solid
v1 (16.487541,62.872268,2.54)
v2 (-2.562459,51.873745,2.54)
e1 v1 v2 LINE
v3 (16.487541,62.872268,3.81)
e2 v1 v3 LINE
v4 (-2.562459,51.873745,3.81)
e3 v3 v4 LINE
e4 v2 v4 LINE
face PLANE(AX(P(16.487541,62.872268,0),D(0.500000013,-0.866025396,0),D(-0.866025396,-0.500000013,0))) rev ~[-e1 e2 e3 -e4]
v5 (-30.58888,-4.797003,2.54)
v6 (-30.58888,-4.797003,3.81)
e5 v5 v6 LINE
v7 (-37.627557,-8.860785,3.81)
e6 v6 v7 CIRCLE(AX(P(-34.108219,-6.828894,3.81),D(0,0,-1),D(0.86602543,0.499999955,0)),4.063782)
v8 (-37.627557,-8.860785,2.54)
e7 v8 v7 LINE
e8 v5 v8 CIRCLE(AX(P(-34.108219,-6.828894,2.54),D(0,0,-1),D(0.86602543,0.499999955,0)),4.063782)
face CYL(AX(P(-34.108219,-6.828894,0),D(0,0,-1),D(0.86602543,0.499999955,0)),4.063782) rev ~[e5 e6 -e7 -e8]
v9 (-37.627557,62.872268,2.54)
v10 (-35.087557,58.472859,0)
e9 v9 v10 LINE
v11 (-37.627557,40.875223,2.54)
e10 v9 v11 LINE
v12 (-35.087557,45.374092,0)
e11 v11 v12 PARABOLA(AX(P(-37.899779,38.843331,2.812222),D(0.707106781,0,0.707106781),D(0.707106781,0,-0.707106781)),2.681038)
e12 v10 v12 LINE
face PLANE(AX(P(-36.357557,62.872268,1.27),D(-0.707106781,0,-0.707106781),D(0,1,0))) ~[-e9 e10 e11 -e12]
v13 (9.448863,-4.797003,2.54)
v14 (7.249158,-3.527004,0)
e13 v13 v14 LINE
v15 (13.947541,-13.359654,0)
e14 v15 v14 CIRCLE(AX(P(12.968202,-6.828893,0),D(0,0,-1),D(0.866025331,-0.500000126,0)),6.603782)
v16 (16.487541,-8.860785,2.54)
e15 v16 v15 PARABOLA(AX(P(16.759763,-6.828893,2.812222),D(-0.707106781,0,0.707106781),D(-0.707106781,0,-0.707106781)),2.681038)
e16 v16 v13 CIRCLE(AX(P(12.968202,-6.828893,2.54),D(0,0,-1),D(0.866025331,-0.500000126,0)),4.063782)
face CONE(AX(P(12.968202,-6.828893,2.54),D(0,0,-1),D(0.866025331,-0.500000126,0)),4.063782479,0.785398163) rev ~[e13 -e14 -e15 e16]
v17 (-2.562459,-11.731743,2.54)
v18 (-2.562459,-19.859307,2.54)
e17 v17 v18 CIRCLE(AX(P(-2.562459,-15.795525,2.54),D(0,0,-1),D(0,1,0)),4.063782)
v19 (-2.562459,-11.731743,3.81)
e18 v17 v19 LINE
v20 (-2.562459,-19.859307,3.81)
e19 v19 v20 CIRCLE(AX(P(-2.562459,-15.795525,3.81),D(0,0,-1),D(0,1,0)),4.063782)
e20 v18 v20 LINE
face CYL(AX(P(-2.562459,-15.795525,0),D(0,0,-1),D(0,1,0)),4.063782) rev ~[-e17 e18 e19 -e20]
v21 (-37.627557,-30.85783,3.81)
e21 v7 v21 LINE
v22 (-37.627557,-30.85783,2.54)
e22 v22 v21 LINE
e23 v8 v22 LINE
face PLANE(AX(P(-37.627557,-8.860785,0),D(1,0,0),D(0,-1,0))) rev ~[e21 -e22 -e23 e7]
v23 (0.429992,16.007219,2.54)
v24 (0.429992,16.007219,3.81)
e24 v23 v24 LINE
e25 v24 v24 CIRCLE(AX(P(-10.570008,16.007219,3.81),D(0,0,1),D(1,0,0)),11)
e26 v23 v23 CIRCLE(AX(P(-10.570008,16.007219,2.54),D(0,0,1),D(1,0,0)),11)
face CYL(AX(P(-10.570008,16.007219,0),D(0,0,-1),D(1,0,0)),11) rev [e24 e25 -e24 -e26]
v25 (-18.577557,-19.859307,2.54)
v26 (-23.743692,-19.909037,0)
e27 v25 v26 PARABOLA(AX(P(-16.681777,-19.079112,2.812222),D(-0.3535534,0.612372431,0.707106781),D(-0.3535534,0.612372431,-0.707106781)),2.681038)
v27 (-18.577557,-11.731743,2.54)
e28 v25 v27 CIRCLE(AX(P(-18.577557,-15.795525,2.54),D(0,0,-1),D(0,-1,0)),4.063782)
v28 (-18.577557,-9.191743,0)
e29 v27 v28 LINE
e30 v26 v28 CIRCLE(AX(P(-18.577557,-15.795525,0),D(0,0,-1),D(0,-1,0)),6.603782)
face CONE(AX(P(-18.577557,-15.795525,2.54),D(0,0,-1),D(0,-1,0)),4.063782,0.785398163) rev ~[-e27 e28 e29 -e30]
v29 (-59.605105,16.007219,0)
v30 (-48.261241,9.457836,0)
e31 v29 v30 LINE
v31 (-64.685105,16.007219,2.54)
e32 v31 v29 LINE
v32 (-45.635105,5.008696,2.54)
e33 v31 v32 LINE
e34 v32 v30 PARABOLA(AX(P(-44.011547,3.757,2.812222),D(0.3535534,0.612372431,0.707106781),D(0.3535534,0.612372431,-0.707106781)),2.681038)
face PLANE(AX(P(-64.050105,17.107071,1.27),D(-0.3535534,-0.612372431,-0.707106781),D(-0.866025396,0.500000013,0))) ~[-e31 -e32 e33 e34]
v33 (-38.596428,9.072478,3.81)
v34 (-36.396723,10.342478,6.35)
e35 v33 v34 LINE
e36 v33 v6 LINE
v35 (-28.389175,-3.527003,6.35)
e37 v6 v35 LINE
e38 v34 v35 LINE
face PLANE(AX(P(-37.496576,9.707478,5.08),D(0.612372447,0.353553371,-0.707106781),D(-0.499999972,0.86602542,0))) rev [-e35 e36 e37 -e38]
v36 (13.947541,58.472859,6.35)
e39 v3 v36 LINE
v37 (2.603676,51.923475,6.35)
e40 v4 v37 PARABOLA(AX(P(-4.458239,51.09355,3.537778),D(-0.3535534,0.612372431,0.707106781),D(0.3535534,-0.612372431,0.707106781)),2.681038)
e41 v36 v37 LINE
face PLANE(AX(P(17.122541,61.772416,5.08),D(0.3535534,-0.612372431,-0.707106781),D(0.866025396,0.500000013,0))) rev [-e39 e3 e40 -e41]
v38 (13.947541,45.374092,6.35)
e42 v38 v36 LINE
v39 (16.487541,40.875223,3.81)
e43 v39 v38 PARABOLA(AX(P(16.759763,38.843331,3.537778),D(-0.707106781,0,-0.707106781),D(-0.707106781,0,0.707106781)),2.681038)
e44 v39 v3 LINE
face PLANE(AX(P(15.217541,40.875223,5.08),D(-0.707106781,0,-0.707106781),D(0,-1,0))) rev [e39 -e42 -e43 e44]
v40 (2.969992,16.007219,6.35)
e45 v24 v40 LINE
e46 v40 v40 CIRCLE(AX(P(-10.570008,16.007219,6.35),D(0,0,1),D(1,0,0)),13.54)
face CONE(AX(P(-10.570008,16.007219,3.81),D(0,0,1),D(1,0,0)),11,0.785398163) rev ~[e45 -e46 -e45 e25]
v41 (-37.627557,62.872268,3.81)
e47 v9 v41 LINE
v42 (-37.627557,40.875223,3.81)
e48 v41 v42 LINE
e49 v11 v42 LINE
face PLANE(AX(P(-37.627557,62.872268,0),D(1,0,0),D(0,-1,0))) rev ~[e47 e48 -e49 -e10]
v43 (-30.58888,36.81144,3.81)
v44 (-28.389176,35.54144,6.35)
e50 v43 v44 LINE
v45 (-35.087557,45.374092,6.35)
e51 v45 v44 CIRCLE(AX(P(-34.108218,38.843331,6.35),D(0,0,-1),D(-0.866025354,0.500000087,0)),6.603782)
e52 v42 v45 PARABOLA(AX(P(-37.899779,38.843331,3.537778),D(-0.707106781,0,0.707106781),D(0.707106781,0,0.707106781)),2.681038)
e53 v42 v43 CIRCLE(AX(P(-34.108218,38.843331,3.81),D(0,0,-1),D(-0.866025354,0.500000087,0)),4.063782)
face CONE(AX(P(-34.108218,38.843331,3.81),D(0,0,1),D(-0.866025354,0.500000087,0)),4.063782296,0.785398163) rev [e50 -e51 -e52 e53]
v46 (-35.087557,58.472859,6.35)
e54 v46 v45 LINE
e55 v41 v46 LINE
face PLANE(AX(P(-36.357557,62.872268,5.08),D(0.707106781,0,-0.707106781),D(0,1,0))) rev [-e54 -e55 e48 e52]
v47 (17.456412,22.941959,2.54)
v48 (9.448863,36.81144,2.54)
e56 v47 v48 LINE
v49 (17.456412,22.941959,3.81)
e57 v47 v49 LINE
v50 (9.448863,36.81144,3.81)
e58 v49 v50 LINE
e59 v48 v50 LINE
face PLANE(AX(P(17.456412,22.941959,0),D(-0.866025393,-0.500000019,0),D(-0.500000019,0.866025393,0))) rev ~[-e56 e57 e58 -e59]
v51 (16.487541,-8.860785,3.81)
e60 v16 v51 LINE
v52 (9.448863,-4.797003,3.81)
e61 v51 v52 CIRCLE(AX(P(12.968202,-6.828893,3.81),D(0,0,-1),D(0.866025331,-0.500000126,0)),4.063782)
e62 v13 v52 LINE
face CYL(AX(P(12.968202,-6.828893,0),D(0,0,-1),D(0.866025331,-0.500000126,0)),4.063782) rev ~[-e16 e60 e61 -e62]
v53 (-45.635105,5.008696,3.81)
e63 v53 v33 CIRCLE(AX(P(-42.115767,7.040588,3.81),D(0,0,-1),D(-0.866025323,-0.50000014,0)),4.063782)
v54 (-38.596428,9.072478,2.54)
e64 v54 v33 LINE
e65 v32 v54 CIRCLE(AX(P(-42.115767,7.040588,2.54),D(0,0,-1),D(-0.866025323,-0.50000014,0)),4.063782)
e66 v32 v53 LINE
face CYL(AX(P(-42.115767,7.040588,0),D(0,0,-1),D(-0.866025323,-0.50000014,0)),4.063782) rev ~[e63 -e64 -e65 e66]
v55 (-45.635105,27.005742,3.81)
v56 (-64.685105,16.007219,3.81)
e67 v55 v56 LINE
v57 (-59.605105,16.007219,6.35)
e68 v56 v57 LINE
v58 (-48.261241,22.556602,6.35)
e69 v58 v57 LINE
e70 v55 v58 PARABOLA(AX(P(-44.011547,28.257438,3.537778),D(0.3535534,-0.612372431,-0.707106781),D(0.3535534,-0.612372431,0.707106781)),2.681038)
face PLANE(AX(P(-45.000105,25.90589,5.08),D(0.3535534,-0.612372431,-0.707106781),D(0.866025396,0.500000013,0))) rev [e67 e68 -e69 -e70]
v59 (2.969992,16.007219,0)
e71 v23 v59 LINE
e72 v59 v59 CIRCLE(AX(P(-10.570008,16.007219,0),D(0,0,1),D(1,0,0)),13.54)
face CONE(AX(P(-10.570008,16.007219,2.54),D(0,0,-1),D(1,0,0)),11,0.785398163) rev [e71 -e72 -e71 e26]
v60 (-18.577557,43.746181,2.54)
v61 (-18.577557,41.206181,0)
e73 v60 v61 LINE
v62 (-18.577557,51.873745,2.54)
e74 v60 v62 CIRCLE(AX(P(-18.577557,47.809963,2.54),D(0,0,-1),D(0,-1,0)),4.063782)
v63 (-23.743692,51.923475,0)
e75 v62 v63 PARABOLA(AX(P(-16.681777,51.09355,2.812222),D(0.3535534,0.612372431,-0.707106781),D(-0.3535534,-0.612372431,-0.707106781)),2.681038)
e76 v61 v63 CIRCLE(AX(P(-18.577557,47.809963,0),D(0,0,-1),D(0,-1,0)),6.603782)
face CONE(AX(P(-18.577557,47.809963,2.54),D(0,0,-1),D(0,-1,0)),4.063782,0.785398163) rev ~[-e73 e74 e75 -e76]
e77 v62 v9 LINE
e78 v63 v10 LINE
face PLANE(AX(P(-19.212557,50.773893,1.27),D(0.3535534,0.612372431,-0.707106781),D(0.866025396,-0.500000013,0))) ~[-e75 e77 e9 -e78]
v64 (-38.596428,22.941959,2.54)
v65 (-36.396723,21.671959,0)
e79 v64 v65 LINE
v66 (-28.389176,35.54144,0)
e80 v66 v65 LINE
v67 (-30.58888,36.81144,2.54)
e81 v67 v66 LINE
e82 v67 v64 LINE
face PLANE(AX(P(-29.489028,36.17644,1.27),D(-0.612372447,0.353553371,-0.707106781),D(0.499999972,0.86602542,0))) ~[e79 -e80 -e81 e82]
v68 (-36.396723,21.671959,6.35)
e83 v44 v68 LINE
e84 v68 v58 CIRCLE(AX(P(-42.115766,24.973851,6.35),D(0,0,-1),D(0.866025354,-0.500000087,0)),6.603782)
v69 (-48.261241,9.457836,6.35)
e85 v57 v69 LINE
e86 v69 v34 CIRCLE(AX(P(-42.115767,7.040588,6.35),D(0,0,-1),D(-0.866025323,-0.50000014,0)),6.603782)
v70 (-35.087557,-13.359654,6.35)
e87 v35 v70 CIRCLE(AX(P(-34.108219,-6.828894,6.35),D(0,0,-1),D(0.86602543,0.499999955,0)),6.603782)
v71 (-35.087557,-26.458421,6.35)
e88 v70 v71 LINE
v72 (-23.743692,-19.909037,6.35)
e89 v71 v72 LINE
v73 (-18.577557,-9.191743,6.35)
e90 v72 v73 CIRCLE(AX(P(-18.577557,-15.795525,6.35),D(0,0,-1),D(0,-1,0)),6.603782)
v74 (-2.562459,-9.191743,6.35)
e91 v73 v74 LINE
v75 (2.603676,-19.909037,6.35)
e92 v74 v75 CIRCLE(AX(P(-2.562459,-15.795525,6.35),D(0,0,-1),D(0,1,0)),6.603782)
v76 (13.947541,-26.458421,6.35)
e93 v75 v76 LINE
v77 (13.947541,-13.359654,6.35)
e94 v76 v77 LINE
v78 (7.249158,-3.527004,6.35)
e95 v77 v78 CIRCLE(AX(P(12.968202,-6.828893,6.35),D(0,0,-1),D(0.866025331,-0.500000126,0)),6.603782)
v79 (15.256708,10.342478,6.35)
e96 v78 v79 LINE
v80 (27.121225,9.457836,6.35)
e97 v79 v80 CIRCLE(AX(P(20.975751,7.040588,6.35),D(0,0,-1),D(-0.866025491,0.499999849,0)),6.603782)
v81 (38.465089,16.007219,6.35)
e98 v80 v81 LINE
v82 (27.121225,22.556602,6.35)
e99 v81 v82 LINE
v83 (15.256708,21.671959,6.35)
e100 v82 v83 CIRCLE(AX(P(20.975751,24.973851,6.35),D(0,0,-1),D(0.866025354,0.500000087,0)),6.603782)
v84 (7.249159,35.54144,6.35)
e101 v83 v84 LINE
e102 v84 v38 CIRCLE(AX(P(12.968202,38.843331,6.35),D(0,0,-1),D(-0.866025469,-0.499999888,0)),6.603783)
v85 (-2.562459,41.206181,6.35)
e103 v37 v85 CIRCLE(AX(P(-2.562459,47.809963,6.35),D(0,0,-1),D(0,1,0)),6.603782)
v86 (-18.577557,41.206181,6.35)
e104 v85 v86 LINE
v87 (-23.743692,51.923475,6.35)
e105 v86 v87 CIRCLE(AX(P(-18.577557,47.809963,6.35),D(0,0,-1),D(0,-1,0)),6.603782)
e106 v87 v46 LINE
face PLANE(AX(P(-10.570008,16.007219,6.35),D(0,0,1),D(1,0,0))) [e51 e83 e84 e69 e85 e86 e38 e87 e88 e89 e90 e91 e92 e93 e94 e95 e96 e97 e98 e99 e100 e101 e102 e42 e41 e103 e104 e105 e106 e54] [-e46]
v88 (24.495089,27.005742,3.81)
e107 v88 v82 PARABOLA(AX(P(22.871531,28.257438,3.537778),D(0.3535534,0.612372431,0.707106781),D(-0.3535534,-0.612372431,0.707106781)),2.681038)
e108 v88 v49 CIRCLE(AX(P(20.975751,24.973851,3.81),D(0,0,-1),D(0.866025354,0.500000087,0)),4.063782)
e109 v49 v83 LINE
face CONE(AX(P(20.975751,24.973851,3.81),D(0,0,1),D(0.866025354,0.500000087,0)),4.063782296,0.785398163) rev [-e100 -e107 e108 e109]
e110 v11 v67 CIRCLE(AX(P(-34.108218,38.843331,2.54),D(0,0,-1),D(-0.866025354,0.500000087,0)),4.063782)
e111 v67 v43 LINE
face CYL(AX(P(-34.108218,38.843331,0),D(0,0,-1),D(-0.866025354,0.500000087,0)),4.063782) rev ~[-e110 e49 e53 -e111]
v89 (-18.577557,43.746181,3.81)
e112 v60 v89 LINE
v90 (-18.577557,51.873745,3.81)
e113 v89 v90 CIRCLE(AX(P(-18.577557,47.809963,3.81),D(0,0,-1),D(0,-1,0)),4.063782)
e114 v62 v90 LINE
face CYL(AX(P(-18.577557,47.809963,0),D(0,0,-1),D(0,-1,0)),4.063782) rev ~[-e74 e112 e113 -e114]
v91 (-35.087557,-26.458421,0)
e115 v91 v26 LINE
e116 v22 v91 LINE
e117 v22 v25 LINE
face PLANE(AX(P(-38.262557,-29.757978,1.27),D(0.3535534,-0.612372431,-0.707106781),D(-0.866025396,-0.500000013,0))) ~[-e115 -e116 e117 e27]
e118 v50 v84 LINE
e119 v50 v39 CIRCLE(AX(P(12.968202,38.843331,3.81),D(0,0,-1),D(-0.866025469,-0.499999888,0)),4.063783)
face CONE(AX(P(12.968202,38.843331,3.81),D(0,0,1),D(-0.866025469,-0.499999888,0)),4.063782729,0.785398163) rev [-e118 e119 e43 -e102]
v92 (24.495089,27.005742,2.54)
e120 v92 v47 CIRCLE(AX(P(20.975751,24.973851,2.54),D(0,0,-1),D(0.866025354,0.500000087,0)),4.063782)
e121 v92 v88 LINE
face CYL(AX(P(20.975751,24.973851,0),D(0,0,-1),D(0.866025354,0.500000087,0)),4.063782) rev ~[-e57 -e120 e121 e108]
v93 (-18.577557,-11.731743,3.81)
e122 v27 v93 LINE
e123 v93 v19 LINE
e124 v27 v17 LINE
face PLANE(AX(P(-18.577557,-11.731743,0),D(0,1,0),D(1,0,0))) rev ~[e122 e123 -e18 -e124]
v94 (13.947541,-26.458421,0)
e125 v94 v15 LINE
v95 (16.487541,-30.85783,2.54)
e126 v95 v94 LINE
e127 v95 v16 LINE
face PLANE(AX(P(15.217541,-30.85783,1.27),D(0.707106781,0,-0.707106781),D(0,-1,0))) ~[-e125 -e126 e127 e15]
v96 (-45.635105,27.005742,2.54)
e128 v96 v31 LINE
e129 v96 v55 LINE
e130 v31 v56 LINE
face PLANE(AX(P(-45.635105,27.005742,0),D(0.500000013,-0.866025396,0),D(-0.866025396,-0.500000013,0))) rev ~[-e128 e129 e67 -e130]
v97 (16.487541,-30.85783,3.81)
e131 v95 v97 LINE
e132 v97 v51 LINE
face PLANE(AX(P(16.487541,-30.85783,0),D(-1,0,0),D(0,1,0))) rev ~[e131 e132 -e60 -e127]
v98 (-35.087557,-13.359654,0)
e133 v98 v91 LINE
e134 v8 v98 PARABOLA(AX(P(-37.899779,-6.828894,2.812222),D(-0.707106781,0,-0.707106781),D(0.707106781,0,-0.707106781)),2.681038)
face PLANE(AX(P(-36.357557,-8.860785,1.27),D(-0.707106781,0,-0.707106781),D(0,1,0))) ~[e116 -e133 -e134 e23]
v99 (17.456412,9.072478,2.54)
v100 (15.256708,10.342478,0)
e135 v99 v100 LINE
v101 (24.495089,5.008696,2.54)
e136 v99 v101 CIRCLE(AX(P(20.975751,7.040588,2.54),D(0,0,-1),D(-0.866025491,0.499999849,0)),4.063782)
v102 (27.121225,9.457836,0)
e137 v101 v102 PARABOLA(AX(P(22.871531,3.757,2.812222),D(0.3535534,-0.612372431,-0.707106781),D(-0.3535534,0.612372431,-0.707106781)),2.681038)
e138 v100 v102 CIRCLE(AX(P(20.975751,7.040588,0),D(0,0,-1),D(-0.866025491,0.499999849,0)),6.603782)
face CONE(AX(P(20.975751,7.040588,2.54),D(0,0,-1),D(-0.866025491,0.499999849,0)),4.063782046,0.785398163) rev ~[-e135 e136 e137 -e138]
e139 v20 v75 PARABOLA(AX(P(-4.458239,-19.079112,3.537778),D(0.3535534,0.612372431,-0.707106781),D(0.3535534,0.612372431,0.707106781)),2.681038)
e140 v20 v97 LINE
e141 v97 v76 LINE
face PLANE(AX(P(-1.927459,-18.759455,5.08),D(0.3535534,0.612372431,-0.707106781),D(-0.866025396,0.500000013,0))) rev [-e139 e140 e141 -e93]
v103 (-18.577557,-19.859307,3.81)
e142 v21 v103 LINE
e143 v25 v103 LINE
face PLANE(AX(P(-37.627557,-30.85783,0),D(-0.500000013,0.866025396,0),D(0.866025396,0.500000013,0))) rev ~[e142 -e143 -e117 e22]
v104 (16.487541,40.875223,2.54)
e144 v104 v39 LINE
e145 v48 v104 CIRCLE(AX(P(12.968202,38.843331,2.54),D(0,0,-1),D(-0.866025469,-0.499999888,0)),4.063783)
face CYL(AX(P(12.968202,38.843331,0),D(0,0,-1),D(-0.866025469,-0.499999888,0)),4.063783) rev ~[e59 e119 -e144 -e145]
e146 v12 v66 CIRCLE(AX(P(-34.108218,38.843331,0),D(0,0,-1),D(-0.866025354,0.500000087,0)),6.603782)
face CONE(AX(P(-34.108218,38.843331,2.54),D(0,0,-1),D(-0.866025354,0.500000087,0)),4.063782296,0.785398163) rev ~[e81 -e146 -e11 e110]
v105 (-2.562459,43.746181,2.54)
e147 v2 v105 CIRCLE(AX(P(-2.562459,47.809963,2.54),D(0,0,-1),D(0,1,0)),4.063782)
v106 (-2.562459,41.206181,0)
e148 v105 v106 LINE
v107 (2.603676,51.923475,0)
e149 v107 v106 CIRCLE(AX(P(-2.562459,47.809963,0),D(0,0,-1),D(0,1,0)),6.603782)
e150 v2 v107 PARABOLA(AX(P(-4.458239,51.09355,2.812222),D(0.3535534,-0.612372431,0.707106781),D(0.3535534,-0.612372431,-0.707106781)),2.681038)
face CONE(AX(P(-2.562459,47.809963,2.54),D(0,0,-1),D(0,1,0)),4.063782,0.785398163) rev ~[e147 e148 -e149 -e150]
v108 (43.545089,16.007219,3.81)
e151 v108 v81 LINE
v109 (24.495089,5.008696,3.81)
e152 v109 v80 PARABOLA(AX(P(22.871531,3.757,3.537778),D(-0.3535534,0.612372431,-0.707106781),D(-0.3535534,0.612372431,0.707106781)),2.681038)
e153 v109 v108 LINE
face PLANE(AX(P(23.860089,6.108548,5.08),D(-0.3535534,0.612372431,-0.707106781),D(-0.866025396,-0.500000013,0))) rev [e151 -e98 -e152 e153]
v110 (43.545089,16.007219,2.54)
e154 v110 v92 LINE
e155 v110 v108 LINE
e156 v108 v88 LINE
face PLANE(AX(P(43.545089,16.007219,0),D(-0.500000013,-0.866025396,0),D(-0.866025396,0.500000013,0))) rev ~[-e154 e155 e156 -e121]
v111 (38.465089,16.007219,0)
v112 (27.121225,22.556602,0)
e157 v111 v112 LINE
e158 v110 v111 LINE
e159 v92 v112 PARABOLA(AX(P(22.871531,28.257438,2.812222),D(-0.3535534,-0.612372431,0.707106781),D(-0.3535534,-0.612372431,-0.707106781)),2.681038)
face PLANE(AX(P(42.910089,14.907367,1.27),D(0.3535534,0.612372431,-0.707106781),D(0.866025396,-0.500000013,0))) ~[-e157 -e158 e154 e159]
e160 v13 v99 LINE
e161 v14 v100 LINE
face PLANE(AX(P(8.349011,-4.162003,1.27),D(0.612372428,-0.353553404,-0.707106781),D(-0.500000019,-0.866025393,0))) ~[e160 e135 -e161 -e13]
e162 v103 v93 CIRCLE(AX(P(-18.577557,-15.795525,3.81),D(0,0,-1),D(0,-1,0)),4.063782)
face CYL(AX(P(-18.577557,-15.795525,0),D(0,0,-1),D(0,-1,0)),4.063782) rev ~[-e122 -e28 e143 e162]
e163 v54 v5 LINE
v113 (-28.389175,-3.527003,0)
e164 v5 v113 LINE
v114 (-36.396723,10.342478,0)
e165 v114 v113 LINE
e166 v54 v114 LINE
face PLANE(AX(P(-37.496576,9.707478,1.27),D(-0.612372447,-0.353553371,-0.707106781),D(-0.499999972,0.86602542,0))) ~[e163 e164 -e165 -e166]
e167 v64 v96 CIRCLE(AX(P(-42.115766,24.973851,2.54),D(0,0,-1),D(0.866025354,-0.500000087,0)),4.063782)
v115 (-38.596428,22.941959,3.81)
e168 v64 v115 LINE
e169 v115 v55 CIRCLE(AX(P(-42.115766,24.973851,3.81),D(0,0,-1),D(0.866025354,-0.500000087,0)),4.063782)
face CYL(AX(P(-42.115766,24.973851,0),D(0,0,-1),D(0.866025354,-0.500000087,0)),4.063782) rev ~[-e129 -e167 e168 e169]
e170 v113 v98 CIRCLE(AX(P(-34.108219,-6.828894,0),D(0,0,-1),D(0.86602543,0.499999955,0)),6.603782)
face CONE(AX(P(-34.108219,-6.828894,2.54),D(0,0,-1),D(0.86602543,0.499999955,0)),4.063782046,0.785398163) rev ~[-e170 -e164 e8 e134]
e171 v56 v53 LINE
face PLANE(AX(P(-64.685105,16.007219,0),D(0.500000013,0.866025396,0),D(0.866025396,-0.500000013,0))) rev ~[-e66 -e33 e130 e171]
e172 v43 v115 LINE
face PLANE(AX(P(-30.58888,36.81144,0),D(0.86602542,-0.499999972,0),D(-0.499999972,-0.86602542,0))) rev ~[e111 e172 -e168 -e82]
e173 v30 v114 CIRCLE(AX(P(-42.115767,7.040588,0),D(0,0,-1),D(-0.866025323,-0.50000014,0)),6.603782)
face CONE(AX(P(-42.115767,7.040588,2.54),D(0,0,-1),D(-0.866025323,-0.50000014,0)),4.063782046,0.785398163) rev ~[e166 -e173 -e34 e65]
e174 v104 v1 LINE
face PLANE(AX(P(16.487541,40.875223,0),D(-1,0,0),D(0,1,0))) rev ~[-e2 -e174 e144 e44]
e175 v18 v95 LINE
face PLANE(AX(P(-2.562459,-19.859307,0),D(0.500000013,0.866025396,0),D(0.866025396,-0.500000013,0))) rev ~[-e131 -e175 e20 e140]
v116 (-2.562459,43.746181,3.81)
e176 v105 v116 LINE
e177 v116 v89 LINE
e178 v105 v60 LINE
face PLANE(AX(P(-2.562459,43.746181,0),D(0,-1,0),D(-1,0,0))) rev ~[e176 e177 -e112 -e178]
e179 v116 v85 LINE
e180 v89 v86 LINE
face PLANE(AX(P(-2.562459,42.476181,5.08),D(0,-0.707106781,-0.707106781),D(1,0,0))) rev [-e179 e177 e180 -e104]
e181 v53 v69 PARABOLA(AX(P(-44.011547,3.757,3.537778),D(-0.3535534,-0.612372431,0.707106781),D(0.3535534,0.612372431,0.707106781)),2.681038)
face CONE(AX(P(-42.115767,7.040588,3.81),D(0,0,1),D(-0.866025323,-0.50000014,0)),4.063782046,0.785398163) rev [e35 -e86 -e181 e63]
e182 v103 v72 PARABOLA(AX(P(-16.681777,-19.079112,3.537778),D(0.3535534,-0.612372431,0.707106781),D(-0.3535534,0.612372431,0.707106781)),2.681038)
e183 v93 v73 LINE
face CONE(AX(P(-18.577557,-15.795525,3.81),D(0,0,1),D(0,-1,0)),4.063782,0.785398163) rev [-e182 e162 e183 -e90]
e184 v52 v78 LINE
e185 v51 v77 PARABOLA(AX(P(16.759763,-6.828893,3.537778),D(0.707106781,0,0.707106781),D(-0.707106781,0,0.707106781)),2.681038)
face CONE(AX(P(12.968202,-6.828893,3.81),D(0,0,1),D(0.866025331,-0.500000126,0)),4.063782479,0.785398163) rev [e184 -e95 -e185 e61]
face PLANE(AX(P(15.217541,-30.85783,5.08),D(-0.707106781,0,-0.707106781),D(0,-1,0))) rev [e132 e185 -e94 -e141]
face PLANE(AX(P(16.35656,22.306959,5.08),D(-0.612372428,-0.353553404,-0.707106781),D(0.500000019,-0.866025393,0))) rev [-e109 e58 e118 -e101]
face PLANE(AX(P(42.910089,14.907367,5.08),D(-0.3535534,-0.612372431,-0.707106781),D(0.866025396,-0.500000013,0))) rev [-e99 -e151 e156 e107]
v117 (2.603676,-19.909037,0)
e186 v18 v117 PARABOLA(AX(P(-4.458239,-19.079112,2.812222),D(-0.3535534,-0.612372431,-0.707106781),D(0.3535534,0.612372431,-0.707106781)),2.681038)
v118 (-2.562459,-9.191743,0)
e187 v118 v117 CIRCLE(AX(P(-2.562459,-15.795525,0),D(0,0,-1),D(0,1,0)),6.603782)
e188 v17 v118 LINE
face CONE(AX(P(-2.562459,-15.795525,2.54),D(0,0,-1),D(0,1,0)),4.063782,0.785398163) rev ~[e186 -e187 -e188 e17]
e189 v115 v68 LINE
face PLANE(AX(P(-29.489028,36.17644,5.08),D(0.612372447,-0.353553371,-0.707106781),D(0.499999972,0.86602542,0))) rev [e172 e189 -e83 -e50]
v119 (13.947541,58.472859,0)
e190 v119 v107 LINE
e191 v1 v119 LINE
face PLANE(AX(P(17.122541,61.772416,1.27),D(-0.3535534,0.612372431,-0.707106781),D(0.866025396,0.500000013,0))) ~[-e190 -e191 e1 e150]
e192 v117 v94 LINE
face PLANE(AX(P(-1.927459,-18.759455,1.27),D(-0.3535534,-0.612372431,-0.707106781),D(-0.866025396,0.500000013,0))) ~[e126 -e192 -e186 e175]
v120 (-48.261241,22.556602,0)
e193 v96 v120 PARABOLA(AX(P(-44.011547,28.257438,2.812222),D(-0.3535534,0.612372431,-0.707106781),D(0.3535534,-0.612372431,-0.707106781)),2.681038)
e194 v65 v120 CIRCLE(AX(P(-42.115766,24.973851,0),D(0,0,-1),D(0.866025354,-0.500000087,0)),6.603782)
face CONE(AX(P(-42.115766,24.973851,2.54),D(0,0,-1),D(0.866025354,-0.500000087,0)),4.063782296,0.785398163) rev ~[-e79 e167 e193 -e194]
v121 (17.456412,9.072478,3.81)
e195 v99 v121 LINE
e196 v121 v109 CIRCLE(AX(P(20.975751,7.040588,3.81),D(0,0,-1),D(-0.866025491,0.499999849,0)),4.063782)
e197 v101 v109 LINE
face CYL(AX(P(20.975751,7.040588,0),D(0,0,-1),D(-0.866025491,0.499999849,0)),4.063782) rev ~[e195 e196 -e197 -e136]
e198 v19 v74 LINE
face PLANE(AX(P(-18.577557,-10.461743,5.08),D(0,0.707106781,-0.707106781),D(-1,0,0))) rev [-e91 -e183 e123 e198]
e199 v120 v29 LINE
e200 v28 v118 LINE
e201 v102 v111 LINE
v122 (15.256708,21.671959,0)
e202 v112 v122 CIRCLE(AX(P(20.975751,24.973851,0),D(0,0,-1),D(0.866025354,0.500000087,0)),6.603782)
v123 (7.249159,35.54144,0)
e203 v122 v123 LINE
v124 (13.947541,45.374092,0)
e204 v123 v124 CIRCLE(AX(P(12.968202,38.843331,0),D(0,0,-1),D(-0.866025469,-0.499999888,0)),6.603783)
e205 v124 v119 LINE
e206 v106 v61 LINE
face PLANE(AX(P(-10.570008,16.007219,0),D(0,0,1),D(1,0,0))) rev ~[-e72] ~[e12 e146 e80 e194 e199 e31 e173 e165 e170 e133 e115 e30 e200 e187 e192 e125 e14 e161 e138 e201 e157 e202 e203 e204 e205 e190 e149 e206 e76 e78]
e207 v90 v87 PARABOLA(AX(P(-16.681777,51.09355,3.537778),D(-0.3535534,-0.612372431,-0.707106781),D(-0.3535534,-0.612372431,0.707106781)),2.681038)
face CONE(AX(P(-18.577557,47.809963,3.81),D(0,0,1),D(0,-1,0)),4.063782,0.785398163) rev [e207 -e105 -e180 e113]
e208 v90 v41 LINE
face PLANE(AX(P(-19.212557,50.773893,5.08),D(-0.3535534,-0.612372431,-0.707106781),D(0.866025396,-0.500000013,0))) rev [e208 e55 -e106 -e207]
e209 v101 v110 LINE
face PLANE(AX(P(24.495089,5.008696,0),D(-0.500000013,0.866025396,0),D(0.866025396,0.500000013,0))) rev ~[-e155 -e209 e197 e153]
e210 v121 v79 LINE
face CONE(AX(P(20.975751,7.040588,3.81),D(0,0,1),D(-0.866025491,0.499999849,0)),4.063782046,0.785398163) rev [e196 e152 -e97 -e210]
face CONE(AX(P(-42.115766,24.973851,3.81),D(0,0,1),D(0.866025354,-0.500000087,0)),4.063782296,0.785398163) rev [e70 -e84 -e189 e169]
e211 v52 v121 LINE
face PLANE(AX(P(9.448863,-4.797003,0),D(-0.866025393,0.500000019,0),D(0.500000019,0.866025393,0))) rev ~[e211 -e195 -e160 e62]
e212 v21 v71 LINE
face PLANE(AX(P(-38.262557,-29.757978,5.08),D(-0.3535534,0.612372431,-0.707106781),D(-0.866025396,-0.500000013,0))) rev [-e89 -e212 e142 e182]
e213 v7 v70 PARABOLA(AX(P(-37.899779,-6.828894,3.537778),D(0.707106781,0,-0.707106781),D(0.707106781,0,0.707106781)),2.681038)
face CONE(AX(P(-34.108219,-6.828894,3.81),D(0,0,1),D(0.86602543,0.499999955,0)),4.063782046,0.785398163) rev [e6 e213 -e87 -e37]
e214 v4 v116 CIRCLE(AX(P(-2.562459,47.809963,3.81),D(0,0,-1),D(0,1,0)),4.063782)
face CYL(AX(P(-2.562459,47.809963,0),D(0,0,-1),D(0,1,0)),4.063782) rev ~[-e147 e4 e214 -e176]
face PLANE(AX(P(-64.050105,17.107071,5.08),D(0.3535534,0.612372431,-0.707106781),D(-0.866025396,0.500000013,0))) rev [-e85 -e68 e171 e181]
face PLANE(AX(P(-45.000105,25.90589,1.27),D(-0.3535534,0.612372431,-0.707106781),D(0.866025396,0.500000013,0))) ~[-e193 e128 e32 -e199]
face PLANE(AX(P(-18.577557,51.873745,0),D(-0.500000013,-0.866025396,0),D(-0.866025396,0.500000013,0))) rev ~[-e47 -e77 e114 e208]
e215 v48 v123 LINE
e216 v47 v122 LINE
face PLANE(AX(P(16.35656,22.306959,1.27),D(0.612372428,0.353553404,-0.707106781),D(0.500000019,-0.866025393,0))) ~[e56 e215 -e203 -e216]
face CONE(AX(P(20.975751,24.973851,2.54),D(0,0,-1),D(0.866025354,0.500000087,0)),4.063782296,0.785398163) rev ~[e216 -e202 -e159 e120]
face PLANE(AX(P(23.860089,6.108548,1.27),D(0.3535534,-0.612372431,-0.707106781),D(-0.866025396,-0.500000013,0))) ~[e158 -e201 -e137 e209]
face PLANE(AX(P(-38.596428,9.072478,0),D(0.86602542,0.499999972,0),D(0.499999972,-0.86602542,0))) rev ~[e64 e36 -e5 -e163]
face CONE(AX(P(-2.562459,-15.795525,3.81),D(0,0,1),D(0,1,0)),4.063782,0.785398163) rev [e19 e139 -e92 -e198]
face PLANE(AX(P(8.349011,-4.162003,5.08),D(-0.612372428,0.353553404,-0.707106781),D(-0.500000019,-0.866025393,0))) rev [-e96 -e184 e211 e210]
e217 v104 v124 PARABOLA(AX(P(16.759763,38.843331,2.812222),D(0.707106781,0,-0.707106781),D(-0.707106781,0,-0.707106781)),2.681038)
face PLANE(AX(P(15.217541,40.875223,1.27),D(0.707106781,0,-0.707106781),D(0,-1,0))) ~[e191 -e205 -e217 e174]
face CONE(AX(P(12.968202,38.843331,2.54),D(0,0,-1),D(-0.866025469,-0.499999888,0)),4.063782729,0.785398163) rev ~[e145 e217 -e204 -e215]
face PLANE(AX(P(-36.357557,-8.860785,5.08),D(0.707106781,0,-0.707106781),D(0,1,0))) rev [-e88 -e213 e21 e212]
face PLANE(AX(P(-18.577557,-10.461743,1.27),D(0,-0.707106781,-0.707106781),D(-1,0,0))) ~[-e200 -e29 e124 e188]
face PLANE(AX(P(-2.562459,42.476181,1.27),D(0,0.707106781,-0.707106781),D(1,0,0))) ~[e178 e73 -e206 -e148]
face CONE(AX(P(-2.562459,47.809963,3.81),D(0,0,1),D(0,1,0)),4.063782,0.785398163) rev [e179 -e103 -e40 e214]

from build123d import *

# Parameters (mm, degrees)
F0_R     = 11
F1_DEPTH = 6.35
F2_SIZE  = 2.54


with BuildPart() as f1:
    # F0 (on Top) → F1 (new body)
    with BuildSketch(Plane.XY):
        with BuildLine():
            ThreePointArc((-45.635105, 5.008696), (-44.147658, 10.559926), (-38.596428, 9.072478))
            Line((-38.596428, 9.072478), (-30.58888, -4.797003))
            ThreePointArc((-30.58888, -4.797003), (-32.076327, -10.348232), (-37.627557, -8.860785))
            Line((-37.627557, -8.860785), (-37.627557, -30.85783))
            Line((-37.627557, -30.85783), (-18.577557, -19.859307))
            ThreePointArc((-18.577557, -19.859307), (-22.641339, -15.795525), (-18.577557, -11.731743))
            Line((-18.577557, -11.731743), (-2.562459, -11.731743))
            ThreePointArc((-2.562459, -11.731743), (1.501323, -15.795525), (-2.562459, -19.859307))
            Line((-2.562459, -19.859307), (16.487541, -30.85783))
            Line((16.487541, -30.85783), (16.487541, -8.860785))
            ThreePointArc((16.487541, -8.860785), (10.936311, -10.348232), (9.448863, -4.797003))
            Line((9.448863, -4.797003), (17.456412, 9.072478))
            ThreePointArc((17.456412, 9.072478), (23.007642, 10.559926), (24.495089, 5.008696))
            Line((24.495089, 5.008696), (43.545089, 16.007219))
            Line((43.545089, 16.007219), (24.495089, 27.005742))
            ThreePointArc((24.495089, 27.005742), (23.007642, 21.454512), (17.456412, 22.941959))
            Line((17.456412, 22.941959), (9.448863, 36.81144))
            ThreePointArc((9.448863, 36.81144), (10.936311, 42.36267), (16.487541, 40.875223))
            Line((16.487541, 40.875223), (16.487541, 62.872268))
            Line((16.487541, 62.872268), (-2.562459, 51.873745))
            ThreePointArc((-2.562459, 51.873745), (1.501323, 47.809963), (-2.562459, 43.746181))
            Line((-2.562459, 43.746181), (-18.577557, 43.746181))
            ThreePointArc((-18.577557, 43.746181), (-22.641339, 47.809963), (-18.577557, 51.873745))
            Line((-18.577557, 51.873745), (-37.627557, 62.872268))
            Line((-37.627557, 62.872268), (-37.627557, 40.875223))
            ThreePointArc((-37.627557, 40.875223), (-32.076327, 42.36267), (-30.58888, 36.81144))
            Line((-30.58888, 36.81144), (-38.596428, 22.941959))
            ThreePointArc((-38.596428, 22.941959), (-44.147658, 21.454512), (-45.635105, 27.005742))
            Line((-45.635105, 27.005742), (-64.685105, 16.007219))
            Line((-64.685105, 16.007219), (-45.635105, 5.008696))
        make_face()
        with Locations((-10.570008, 16.007219)):
            Circle(F0_R, mode=Mode.SUBTRACT)
    extrude(amount=F1_DEPTH)

    # F2
    f2_edges = [f1.edges().sort_by_distance(p)[0] for p in [
        (-44.147658, 21.454512, 6.35),
        (-55.160105, 21.50648, 6.35),
        (-55.160105, 10.507958, 6.35),
        (-44.147658, 10.559926, 6.35),
        (-34.592654, 2.137738, 6.35),
        (-32.076327, -10.348232, 6.35),
        (-37.627557, -19.859307, 6.35),
        (-28.102557, -25.358569, 6.35),
        (-22.641339, -15.795525, 6.35),
        (-10.570008, -11.731743, 6.35),
        (1.501323, -15.795525, 6.35),
        (6.962541, -25.358569, 6.35),
        (16.487541, -19.859307, 6.35),
        (10.936311, -10.348232, 6.35),
        (13.452638, 2.137738, 6.35),
        (23.007642, 10.559926, 6.35),
        (34.020089, 10.507958, 6.35),
        (34.020089, 21.50648, 6.35),
        (23.007642, 21.454512, 6.35),
        (13.452638, 29.8767, 6.35),
        (10.936311, 42.36267, 6.35),
        (16.487541, 51.873745, 6.35),
        (6.962541, 57.373007, 6.35),
        (1.501323, 47.809963, 6.35),
        (-10.570008, 43.746181, 6.35),
        (-22.641339, 47.809963, 6.35),
        (-28.102557, 57.373007, 6.35),
        (-37.627557, 51.873745, 6.35),
        (-32.076327, 42.36267, 6.35),
        (-34.592654, 29.8767, 6.35),
        (-21.570008, 16.007219, 6.35),
        (-44.147658, 21.454512, 0),
        (-55.160105, 21.50648, 0),
        (-55.160105, 10.507958, 0),
        (-44.147658, 10.559926, 0),
        (-34.592654, 2.137738, 0),
        (-32.076327, -10.348232, 0),
        (-37.627557, -19.859307, 0),
        (-28.102557, -25.358569, 0),
        (-22.641339, -15.795525, 0),
        (-10.570008, -11.731743, 0),
        (1.501323, -15.795525, 0),
        (6.962541, -25.358569, 0),
        (16.487541, -19.859307, 0),
        (10.936311, -10.348232, 0),
        (13.452638, 2.137738, 0),
        (23.007642, 10.559926, 0),
        (34.020089, 10.507958, 0),
        (34.020089, 21.50648, 0),
        (23.007642, 21.454512, 0),
        (13.452638, 29.8767, 0),
        (10.936311, 42.36267, 0),
        (16.487541, 51.873745, 0),
        (6.962541, 57.373007, 0),
        (1.501323, 47.809963, 0),
        (-10.570008, 43.746181, 0),
        (-22.641339, 47.809963, 0),
        (-28.102557, 57.373007, 0),
        (-37.627557, 51.873745, 0),
        (-32.076327, 42.36267, 0),
        (-34.592654, 29.8767, 0),
        (-21.570008, 16.007219, 0),
    ]]
    chamfer(f2_edges, length=F2_SIZE)


solid = f1.part
